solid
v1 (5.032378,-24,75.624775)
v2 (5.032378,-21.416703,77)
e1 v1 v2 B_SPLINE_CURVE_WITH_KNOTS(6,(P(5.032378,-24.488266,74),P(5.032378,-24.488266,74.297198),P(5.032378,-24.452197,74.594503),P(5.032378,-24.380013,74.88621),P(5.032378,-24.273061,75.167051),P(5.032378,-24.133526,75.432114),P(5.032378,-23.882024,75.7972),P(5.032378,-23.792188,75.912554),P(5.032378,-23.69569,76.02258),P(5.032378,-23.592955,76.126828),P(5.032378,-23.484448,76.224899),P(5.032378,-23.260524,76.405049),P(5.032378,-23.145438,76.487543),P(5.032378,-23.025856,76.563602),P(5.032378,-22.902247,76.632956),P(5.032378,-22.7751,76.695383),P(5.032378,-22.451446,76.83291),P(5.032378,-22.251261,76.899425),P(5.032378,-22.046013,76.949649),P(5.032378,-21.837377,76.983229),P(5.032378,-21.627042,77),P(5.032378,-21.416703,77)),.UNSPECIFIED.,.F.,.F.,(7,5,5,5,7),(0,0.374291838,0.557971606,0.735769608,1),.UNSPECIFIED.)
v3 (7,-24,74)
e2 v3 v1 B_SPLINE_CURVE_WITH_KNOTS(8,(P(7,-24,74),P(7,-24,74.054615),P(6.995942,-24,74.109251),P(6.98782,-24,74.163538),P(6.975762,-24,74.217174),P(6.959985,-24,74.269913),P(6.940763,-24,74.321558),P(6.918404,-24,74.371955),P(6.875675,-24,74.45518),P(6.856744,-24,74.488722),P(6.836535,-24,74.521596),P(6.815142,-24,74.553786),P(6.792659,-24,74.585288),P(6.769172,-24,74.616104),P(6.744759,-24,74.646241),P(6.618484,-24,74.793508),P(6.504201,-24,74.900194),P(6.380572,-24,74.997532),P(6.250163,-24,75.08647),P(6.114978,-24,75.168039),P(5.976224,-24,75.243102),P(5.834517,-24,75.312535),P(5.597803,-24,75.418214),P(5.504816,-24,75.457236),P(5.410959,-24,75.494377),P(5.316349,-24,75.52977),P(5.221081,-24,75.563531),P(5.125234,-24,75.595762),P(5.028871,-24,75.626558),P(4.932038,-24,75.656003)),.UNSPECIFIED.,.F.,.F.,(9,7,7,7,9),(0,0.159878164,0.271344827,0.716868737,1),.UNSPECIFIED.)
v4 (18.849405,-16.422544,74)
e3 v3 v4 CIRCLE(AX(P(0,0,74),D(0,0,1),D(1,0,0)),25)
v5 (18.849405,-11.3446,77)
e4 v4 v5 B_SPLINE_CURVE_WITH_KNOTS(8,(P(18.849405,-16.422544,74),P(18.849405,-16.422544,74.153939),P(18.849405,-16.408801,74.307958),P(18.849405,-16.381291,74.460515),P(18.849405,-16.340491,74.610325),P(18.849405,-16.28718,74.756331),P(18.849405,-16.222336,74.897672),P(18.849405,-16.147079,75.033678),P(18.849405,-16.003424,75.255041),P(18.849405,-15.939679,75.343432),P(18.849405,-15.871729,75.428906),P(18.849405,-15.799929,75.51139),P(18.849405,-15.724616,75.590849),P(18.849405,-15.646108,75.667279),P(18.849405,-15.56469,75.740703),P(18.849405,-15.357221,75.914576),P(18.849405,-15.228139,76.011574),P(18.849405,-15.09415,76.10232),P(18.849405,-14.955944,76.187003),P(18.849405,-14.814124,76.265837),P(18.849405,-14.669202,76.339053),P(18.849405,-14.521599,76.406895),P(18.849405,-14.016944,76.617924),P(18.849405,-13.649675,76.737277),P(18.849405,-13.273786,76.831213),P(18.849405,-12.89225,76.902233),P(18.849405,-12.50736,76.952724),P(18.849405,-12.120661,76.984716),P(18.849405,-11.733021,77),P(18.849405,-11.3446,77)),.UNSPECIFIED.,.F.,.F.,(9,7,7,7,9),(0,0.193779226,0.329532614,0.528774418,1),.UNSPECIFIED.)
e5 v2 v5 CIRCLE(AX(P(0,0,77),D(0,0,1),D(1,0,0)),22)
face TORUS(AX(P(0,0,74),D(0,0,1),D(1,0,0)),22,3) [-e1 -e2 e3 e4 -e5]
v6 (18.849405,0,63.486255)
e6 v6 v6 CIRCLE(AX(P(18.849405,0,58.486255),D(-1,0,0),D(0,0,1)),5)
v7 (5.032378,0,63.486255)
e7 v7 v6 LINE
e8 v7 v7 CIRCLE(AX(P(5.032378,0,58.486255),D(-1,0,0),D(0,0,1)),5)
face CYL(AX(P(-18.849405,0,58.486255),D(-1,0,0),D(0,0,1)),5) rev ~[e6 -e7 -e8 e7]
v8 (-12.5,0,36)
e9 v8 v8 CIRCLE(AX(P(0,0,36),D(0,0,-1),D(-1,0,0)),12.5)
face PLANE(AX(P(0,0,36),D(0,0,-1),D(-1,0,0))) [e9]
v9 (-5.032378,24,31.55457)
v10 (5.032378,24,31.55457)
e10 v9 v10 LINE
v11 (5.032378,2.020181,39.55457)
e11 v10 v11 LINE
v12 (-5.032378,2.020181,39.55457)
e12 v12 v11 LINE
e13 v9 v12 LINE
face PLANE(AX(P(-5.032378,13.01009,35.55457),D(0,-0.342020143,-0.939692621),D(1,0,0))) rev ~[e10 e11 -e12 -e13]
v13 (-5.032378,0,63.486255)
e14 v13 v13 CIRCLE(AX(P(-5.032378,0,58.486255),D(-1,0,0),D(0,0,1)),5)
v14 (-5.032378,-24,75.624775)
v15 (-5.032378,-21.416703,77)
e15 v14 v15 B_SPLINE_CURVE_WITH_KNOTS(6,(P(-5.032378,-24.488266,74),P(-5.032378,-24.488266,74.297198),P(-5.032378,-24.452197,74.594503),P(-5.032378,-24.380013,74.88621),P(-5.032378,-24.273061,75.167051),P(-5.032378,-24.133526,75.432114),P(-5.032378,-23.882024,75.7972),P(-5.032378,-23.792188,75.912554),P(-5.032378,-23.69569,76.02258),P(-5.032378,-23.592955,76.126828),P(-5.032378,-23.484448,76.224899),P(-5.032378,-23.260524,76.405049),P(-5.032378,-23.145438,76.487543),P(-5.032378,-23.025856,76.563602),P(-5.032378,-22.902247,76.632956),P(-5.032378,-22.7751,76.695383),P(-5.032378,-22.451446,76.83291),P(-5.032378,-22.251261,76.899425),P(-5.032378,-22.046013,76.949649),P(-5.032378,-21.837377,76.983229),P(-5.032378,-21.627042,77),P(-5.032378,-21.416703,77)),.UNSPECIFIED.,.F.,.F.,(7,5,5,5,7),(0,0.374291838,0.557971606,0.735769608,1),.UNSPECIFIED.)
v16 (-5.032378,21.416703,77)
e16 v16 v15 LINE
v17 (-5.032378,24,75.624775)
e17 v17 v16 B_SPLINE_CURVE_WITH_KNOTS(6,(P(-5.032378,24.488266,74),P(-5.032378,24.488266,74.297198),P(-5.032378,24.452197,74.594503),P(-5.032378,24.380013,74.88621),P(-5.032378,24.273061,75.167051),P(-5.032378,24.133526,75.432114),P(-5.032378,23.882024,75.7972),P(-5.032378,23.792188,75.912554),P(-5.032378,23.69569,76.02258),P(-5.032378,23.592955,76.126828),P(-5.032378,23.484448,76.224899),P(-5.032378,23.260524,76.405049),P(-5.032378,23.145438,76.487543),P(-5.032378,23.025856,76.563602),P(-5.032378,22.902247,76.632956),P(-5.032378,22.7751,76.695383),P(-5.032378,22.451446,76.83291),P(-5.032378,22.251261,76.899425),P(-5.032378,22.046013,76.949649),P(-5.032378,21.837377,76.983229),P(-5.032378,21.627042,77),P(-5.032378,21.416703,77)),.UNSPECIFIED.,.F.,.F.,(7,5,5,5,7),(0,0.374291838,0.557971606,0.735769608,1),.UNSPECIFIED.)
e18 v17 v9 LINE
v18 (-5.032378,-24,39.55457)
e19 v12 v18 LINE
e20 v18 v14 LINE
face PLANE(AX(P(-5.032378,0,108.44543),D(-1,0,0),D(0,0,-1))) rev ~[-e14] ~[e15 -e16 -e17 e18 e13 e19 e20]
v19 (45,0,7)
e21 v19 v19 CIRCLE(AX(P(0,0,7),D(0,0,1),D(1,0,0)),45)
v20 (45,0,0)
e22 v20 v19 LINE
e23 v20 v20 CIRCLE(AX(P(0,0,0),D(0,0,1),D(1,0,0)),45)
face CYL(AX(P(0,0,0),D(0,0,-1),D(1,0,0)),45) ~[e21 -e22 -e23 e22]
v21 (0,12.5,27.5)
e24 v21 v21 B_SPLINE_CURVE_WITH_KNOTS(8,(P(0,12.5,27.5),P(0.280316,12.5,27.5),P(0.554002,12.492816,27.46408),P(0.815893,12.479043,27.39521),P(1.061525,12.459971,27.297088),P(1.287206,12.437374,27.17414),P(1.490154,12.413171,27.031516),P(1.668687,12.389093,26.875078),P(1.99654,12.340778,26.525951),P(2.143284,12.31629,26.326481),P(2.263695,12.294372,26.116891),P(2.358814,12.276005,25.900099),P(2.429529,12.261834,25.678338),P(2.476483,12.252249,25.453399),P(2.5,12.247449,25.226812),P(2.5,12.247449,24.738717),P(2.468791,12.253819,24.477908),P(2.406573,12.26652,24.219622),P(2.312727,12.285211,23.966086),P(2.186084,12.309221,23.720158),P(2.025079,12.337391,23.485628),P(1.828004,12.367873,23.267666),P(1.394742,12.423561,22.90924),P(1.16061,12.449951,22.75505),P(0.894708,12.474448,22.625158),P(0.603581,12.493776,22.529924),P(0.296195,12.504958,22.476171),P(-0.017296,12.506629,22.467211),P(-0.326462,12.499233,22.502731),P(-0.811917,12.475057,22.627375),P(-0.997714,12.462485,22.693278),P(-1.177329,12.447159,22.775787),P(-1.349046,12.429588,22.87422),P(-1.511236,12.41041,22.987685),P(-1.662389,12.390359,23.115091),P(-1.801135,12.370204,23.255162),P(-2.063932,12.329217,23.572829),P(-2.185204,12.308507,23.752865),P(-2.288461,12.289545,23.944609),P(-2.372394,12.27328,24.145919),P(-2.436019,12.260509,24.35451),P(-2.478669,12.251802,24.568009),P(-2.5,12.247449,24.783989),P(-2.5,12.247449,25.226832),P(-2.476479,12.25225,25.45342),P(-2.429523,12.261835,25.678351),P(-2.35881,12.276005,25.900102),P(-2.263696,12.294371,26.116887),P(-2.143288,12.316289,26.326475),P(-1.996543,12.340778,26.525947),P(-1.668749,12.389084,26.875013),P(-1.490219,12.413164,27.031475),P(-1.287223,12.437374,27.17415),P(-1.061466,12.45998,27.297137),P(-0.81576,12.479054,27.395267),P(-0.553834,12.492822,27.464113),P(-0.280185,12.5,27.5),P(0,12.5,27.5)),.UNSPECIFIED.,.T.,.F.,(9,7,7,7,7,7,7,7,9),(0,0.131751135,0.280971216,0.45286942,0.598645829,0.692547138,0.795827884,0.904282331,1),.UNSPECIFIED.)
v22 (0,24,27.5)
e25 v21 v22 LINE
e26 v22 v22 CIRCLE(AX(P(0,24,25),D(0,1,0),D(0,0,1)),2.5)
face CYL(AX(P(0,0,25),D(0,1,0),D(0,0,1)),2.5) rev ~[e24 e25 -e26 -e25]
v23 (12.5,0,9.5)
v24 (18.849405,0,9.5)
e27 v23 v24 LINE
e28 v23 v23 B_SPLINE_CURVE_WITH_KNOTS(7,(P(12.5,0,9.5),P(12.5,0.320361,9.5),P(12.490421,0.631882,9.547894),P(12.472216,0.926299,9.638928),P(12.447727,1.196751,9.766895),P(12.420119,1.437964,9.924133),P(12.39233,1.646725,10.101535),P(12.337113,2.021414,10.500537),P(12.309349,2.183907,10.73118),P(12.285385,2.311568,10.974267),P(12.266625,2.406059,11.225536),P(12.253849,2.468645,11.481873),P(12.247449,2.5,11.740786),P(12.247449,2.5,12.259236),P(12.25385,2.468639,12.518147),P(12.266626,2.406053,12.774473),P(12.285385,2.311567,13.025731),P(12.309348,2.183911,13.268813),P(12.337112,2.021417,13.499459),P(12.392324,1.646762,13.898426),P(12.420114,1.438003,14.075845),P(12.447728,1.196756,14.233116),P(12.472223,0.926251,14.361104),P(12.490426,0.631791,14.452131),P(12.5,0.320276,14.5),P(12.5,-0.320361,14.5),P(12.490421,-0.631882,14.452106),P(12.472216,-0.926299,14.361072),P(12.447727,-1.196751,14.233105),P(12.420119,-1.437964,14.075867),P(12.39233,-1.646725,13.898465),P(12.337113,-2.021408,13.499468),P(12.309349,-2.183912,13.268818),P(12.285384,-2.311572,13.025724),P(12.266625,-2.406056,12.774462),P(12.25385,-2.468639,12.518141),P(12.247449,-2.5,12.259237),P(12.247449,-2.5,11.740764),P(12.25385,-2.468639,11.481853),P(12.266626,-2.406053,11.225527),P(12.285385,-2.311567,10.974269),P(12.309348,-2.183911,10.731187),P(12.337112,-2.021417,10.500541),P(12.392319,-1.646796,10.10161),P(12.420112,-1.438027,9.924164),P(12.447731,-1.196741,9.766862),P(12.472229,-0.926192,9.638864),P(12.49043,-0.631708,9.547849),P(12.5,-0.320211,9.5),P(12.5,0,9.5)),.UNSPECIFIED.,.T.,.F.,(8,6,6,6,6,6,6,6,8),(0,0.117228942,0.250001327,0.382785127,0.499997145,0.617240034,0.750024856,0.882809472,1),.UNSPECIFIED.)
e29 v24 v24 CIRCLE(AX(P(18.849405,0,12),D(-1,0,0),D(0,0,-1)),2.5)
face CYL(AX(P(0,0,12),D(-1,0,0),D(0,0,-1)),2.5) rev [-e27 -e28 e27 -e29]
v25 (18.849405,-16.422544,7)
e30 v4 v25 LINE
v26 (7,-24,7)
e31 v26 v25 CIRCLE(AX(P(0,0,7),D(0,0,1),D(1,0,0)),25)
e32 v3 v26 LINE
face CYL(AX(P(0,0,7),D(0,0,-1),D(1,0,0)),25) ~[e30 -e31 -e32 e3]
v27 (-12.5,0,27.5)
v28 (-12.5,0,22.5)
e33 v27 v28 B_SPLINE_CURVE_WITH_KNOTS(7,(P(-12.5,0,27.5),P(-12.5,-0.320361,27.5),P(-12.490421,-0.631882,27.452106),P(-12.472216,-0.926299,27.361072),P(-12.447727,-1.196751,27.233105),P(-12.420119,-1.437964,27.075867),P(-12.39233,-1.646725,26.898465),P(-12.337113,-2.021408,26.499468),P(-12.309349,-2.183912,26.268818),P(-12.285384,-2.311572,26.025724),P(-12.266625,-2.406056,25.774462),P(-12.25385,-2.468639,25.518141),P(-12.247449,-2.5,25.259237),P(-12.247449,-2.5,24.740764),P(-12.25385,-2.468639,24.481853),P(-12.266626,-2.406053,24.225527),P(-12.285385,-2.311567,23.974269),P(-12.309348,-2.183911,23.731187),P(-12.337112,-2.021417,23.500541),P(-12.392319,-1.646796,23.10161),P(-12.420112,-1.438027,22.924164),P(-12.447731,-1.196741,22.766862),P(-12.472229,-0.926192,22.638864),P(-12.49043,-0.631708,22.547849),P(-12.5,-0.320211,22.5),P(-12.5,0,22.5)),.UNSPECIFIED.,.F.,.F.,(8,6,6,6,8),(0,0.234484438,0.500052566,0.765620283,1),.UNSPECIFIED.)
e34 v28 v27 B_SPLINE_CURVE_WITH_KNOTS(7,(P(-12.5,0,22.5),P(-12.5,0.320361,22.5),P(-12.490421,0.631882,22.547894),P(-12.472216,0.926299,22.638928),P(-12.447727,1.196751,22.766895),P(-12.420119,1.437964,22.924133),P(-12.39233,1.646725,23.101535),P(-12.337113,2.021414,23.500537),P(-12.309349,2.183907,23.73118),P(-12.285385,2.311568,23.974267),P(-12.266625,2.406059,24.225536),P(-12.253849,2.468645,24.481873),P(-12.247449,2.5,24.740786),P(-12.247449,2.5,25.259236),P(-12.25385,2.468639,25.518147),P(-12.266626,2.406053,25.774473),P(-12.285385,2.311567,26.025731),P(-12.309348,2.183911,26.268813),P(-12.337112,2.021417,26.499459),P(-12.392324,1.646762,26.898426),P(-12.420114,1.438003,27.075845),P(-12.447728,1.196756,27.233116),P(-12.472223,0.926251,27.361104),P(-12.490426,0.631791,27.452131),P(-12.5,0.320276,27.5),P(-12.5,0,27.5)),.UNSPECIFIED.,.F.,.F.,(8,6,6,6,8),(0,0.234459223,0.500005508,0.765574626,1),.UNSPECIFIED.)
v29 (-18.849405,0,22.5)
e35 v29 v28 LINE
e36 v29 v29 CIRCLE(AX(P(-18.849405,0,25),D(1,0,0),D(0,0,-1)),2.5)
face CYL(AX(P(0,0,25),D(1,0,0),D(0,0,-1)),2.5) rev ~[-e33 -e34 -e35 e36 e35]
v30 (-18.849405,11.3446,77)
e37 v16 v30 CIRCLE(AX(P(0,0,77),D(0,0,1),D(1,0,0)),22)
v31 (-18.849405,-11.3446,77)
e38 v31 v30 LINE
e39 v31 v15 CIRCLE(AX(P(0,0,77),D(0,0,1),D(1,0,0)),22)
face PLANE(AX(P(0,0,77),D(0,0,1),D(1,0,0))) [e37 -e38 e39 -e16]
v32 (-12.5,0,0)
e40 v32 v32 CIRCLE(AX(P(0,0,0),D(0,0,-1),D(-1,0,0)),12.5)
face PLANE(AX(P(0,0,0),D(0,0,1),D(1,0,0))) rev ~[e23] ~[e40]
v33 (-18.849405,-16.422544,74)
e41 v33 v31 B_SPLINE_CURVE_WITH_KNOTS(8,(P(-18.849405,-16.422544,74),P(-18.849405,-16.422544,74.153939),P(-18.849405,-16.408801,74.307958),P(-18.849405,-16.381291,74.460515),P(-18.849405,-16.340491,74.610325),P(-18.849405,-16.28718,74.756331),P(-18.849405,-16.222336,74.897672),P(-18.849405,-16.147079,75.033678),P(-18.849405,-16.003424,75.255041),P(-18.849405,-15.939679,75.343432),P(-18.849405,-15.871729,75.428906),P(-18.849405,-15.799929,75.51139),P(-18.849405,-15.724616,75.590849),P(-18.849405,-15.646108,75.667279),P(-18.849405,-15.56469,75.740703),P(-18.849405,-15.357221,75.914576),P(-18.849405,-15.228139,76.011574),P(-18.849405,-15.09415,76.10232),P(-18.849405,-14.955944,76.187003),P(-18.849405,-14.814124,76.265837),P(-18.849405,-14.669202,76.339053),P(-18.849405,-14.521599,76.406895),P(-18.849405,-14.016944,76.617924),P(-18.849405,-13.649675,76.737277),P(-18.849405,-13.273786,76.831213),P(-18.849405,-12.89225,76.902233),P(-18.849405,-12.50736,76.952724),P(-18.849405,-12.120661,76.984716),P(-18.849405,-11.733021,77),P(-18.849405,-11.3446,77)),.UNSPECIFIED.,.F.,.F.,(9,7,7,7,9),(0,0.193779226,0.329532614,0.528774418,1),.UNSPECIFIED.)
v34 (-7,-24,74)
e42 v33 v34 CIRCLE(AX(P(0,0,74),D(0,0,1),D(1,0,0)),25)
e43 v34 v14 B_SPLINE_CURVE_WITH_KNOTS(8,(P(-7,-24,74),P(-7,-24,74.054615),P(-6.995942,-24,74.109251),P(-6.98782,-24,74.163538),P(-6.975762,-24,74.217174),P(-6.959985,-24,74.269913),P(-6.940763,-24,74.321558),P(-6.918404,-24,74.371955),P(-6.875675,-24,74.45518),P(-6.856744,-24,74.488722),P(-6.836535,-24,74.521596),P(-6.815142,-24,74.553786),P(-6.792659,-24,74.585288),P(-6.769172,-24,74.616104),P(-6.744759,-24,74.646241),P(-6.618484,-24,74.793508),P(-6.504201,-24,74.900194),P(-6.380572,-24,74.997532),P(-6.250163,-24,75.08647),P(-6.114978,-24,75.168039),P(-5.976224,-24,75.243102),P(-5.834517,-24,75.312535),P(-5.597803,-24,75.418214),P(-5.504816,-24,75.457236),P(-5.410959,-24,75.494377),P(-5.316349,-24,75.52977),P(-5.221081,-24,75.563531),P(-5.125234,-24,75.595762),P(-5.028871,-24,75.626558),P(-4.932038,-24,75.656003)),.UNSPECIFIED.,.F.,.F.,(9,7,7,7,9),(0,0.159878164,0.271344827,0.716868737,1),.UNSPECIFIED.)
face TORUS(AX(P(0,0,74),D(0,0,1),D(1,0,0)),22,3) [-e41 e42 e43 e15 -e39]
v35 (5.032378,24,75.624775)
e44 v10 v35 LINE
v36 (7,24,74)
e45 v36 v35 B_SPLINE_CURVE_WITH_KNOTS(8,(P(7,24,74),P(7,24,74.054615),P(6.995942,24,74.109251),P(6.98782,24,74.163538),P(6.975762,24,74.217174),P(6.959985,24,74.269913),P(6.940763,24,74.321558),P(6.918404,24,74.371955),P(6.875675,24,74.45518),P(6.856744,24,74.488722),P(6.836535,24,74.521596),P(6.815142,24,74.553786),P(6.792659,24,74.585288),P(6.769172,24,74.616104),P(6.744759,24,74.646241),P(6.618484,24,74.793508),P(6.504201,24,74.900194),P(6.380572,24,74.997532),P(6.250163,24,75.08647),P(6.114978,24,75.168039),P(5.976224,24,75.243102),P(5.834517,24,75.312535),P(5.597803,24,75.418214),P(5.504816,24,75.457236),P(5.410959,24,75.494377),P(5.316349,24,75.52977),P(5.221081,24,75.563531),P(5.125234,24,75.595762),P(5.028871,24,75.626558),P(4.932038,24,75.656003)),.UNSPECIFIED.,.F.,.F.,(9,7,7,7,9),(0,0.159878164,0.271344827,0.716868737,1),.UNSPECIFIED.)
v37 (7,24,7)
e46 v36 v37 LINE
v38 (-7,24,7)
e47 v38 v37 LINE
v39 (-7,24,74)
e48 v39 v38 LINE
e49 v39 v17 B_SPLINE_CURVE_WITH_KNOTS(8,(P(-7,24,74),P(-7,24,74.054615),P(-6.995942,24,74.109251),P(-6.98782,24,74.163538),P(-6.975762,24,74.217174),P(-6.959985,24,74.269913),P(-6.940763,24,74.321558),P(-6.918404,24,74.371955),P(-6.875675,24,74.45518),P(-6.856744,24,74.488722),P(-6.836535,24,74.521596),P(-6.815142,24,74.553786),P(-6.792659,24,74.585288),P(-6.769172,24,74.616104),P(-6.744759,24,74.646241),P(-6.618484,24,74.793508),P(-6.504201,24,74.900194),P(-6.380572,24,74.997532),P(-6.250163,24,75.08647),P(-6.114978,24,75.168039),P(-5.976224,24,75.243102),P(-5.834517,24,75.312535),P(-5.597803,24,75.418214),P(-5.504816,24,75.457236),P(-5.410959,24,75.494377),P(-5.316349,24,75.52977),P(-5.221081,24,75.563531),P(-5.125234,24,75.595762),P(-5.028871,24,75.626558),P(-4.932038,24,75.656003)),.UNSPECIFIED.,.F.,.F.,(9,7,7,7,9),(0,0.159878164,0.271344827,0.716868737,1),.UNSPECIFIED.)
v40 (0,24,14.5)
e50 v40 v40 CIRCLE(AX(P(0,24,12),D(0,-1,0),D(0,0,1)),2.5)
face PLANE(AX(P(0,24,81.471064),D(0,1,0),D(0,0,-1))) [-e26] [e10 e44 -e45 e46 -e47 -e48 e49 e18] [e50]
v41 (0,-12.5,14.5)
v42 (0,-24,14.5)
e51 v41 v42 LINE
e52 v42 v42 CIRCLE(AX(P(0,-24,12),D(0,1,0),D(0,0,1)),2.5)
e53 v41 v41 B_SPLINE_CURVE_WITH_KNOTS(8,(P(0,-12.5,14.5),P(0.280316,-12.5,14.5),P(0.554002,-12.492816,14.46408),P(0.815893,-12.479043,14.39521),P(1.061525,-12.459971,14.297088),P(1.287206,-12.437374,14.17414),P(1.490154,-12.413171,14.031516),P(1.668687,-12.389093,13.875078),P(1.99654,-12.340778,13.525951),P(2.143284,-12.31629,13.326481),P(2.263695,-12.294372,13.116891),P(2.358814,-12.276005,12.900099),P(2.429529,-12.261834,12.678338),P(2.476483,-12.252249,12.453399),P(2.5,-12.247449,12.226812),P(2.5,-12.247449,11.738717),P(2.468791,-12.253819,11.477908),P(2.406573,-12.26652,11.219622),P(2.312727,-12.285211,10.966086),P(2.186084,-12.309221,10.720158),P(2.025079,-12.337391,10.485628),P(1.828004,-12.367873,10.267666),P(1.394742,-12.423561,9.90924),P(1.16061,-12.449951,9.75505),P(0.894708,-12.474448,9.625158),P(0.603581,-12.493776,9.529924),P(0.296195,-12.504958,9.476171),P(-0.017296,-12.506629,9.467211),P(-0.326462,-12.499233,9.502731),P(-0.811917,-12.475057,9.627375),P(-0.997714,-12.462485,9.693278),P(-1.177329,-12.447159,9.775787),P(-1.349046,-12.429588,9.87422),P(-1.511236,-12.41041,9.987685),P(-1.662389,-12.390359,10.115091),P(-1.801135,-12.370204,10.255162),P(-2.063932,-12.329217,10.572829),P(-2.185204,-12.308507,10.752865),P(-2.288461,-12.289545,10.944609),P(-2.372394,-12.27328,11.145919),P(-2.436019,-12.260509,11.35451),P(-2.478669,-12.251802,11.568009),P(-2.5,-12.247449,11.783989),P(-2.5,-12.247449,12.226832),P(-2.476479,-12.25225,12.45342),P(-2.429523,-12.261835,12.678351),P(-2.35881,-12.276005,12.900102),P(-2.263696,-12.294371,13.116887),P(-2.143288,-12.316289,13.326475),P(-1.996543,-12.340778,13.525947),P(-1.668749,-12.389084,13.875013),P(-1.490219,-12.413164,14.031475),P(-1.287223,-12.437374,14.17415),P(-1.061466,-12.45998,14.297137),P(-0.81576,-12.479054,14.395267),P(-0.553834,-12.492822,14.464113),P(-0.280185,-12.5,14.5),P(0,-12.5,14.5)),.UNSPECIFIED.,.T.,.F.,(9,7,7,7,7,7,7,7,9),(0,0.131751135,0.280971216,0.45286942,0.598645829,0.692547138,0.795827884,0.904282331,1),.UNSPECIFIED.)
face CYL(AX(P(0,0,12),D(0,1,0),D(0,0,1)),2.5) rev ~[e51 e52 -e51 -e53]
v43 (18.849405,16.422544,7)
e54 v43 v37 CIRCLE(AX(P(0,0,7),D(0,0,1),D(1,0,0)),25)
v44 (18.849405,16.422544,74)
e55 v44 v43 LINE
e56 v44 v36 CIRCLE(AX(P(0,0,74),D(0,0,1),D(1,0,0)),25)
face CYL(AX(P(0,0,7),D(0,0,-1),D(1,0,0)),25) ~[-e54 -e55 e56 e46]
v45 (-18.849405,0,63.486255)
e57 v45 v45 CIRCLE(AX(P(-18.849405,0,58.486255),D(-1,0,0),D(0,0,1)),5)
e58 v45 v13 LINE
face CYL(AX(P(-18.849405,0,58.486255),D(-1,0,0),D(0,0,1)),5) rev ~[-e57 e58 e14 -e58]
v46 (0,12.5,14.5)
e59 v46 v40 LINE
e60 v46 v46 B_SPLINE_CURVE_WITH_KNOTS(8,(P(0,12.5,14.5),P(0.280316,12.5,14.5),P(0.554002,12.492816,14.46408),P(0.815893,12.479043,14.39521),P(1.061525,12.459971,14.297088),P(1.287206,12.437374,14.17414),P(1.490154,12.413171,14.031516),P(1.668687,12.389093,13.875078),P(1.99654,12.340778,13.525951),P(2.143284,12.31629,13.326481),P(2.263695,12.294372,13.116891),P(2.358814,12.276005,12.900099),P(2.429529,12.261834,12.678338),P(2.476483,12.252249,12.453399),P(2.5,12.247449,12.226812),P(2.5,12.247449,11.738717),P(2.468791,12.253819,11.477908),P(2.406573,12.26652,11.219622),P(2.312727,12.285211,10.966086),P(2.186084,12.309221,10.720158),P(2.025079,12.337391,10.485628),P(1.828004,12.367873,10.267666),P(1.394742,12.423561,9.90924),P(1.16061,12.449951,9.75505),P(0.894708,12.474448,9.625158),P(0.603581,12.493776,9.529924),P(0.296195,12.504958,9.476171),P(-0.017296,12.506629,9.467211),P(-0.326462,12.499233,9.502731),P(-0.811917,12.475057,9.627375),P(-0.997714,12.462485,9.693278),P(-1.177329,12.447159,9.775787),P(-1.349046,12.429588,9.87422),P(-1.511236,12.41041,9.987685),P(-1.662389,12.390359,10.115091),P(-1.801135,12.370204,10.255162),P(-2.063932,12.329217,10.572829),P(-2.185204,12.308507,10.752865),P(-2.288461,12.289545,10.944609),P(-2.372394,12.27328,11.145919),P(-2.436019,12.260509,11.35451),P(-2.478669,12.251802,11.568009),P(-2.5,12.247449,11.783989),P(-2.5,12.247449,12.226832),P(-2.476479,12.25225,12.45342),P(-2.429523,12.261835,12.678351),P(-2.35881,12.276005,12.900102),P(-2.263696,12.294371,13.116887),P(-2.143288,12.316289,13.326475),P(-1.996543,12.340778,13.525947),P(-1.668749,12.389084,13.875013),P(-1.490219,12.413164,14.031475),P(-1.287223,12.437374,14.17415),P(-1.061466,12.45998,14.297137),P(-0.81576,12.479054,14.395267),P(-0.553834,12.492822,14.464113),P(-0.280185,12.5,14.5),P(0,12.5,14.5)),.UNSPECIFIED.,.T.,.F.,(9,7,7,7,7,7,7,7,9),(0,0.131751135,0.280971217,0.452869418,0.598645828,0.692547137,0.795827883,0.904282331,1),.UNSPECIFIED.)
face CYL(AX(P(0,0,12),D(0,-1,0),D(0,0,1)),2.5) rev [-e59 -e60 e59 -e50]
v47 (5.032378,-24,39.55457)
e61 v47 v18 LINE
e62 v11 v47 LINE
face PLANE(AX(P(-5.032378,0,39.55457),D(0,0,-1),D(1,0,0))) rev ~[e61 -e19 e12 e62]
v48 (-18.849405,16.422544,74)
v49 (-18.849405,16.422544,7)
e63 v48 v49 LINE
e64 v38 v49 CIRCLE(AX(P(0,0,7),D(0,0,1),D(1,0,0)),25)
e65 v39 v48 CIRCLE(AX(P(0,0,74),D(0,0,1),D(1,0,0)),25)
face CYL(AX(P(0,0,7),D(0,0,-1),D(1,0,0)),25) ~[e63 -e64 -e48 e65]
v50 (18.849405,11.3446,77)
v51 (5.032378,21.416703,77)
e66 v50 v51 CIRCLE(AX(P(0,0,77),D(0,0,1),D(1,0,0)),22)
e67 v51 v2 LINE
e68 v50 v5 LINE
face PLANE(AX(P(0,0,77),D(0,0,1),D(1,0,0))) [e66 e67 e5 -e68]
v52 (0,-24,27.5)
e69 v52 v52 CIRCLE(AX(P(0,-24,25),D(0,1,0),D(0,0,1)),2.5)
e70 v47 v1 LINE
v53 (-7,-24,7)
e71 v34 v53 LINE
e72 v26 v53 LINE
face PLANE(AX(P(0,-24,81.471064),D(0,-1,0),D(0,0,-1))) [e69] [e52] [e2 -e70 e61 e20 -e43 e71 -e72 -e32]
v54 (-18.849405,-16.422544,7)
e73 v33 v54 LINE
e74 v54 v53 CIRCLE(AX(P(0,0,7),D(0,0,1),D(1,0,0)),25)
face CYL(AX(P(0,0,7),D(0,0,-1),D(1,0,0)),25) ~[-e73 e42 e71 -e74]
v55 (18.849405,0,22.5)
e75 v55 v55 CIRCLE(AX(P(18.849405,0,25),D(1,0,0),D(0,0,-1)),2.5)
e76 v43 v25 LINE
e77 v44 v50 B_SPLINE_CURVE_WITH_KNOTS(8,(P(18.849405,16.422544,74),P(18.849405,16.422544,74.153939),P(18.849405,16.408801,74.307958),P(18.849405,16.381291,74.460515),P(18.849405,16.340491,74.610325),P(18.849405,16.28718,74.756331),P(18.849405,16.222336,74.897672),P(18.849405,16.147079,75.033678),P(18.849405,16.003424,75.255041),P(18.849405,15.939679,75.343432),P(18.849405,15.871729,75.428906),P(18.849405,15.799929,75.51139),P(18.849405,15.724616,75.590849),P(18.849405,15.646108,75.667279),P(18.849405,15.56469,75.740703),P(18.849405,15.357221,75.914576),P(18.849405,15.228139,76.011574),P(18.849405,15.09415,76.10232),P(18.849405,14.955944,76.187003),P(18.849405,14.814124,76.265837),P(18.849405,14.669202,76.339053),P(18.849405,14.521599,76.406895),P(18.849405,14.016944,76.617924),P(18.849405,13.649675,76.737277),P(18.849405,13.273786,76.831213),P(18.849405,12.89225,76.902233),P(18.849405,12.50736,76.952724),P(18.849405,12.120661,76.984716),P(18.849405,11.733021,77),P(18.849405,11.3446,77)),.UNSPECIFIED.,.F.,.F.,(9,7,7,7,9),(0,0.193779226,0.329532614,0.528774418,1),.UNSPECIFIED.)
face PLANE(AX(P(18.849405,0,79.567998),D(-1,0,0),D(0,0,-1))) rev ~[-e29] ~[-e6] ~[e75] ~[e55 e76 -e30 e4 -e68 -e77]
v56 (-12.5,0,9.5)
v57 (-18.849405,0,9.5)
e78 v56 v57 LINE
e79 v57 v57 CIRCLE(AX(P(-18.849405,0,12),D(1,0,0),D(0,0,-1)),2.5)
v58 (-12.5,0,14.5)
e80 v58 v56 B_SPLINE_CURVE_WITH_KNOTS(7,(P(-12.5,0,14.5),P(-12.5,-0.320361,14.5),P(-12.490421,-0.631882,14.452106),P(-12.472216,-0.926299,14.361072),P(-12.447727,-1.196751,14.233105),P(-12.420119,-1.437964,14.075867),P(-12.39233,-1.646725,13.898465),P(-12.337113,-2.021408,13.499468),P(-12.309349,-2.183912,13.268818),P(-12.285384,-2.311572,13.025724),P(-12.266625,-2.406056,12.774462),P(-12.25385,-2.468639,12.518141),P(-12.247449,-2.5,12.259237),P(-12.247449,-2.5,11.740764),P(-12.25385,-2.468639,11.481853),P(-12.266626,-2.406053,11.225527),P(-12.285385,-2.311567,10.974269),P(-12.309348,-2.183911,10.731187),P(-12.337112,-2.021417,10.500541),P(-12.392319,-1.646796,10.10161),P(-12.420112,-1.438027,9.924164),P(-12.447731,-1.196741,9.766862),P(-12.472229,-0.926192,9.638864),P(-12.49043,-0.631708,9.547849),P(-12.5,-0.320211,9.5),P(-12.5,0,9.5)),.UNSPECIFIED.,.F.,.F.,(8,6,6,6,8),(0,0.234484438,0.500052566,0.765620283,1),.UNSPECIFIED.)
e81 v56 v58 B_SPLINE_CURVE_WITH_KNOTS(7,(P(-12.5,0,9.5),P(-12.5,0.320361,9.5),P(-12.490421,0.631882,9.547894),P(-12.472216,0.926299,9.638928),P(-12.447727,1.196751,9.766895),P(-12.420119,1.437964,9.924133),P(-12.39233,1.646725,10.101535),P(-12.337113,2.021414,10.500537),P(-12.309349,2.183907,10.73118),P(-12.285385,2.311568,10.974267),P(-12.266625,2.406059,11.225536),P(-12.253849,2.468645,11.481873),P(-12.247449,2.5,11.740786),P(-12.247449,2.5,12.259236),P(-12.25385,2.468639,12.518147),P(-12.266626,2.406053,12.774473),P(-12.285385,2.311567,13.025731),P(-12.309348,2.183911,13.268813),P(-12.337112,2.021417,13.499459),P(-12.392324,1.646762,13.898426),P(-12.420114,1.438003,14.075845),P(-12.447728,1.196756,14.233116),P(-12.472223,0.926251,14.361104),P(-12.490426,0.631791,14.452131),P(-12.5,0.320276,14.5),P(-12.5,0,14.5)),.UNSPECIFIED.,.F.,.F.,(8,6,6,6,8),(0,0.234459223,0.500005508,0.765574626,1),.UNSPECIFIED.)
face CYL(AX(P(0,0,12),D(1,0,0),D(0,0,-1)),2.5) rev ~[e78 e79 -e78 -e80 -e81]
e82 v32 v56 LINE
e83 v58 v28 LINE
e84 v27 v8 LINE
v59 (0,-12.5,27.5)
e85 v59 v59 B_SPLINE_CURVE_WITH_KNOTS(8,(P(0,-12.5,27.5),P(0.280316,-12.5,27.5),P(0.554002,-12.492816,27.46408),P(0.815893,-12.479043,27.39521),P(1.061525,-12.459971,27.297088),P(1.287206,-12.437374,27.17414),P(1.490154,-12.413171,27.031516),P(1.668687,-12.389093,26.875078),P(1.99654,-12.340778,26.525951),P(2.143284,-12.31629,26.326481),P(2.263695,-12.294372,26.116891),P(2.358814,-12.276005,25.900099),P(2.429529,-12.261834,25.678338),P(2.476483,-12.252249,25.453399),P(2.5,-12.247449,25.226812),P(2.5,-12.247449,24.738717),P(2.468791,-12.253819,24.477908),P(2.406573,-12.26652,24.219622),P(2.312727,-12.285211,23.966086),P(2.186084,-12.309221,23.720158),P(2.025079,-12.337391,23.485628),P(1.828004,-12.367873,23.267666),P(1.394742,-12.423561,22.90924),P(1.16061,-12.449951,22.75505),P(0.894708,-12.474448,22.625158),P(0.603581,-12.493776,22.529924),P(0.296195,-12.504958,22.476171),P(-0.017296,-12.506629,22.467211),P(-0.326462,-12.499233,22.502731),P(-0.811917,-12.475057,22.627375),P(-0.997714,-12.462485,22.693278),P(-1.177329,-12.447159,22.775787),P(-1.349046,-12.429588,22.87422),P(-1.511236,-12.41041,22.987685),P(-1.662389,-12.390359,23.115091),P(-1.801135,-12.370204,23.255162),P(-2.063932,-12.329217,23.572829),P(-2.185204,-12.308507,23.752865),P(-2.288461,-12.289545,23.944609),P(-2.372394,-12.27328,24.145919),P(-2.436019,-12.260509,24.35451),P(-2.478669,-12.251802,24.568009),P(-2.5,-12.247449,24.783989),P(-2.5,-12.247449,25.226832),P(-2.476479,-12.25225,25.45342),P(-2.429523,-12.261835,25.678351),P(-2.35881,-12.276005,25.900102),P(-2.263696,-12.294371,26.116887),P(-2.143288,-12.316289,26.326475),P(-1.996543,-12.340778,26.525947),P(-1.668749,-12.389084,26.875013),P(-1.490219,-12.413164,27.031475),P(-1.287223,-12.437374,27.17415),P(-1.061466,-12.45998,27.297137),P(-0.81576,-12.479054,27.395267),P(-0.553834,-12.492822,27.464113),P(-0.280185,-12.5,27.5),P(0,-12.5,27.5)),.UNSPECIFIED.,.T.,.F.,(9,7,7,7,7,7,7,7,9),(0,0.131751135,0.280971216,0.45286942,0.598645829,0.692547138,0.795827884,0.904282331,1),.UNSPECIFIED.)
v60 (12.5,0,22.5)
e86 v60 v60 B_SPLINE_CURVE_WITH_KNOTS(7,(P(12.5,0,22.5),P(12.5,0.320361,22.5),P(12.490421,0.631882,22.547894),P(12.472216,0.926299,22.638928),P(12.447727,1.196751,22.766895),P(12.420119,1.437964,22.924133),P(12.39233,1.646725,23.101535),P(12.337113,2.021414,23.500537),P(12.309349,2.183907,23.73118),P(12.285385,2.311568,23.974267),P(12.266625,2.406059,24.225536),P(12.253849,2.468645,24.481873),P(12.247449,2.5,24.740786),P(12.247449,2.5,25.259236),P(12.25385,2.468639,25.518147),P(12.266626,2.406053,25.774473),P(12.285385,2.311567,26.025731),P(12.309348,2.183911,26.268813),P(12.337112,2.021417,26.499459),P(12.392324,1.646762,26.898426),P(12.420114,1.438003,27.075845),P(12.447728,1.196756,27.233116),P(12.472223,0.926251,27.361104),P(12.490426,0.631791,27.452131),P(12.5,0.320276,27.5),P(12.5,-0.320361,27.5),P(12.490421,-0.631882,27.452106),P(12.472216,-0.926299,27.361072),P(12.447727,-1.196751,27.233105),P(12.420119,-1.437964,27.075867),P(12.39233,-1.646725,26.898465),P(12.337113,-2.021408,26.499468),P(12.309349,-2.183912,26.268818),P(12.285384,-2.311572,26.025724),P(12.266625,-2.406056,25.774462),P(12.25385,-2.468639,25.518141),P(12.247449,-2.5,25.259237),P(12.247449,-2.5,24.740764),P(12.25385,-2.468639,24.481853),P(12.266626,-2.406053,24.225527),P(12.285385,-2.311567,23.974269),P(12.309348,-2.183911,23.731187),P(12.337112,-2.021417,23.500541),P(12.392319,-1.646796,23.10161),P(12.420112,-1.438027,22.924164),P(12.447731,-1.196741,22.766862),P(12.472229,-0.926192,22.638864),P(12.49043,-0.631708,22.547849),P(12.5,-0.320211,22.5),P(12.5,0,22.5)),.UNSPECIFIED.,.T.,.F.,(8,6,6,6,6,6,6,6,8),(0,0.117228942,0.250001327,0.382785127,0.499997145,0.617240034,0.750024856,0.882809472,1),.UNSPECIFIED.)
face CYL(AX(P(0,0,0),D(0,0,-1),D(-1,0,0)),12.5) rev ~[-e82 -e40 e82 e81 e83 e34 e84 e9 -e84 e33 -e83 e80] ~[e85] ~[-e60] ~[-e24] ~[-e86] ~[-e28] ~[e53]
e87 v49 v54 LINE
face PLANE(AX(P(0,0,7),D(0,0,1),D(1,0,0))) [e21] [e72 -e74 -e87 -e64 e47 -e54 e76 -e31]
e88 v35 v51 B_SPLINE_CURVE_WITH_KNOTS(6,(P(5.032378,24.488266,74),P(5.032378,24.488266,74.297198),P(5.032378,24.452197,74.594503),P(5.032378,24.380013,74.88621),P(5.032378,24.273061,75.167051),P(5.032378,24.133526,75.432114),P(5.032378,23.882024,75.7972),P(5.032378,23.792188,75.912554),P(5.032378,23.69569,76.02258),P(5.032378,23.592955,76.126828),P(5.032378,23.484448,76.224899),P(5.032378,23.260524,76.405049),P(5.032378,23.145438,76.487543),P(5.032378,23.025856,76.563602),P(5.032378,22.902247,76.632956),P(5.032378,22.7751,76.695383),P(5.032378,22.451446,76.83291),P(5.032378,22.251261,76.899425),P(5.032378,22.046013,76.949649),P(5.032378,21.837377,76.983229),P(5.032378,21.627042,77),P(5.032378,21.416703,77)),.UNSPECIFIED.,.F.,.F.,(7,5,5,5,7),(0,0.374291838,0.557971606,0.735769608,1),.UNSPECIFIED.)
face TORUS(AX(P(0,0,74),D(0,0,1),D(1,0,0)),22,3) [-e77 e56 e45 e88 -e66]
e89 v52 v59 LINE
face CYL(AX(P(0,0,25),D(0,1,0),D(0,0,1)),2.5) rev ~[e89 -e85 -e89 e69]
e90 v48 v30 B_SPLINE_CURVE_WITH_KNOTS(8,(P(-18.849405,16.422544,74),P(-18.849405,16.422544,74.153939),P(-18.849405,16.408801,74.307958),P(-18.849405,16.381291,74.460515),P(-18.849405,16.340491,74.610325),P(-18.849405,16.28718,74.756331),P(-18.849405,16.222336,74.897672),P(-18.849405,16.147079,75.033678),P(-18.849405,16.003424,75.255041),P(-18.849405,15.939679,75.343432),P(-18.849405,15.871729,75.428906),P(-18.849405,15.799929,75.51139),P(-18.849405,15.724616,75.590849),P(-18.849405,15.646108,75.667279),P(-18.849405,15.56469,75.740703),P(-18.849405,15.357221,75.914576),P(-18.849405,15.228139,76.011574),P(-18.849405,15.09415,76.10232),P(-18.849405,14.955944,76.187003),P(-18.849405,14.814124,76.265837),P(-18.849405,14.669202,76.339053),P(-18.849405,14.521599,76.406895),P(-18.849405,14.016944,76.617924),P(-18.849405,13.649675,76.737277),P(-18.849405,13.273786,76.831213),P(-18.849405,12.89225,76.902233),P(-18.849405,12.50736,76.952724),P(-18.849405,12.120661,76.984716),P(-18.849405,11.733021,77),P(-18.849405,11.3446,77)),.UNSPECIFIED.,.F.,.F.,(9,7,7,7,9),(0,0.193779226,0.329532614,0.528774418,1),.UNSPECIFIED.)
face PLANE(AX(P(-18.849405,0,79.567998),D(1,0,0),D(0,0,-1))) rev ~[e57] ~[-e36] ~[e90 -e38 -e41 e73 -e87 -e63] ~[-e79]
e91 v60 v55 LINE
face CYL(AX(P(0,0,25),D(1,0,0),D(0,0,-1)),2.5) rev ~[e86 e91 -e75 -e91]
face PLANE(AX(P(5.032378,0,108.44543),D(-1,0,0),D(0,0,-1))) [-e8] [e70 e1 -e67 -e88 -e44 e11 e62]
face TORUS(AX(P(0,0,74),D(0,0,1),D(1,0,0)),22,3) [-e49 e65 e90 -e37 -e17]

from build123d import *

# Parameters (mm, degrees)
SKETCH_1_R          = 45
EXTRUDE_1_DEPTH     = 7
SKETCH_2_R          = 25
EXTRUDE_2_DEPTH     = 70
FILLET_1_R          = 3
SKETCH_3_R          = 2.5
CUT_EXTRUDE_3_DEPTH = 35
SKETCH_5_R          = 2.5
CUT_EXTRUDE_4_DEPTH = 35
SKETCH_6_R          = 12.5
CUT_EXTRUDE_5_DEPTH = 36
SKETCH_7_W          = 10.064755008
SKETCH_7_H          = 68.890859038
SKETCH_7_W_2        = 9.000001362
SKETCH_7_H_2        = 72.567998157
CUT_EXTRUDE_6_DEPTH = 35
SKETCH_9_W          = 74.471064375
SKETCH_9_H          = 8.374114708
CUT_EXTRUDE_8_DEPTH = 35
SKETCH_10_R         = 5
CUT_EXTRUDE_1_DEPTH = 110.684759554
CHAMFER_1_SIZE      = 8
CHAMFER_1_SIZE2     = 21.979819356


with BuildPart() as part:
    # Эскиз1 → Вытянуть1 (new body)
    with BuildSketch(Plane.XY):
        Circle(SKETCH_1_R)
    extrude(amount=EXTRUDE_1_DEPTH)

    # Эскиз2 → Вытянуть2 (add)
    with BuildSketch(Plane.XY.offset(7)):
        Circle(SKETCH_2_R)
    extrude(amount=EXTRUDE_2_DEPTH)

    # Скругление1
    fillet_1_edges = [part.edges().sort_by_distance(p)[0] for p in [
        (-25, 0, 77),
    ]]
    fillet(fillet_1_edges, radius=FILLET_1_R)

    # Эскиз3 → Вытянуть3 (cut, symmetric)
    with BuildSketch(Plane(origin=(0, 0, 0), x_dir=(1, 0, 0), z_dir=(0, 1, 0))):
        with Locations(Location((0, -12, 0), (0, 0, 270))):
            Circle(SKETCH_3_R)
        with Locations(Location((0, -25, 0), (0, 0, 270))):
            Circle(SKETCH_3_R)
    extrude(amount=CUT_EXTRUDE_3_DEPTH, both=True, mode=Mode.SUBTRACT)

    # Эскиз5 → Вытянуть4 (cut, symmetric)
    with BuildSketch(Plane(origin=(0, 0, 0), x_dir=(0, 0, -1), z_dir=(1, 0, 0))):
        with Locations((-12, 0)):
            Circle(SKETCH_5_R)
        with Locations((-25, 0)):
            Circle(SKETCH_5_R)
    extrude(amount=CUT_EXTRUDE_4_DEPTH, both=True, mode=Mode.SUBTRACT)

    # Эскиз6 → Вытянуть5 (cut)
    with BuildSketch(Plane(origin=(0, 0, 0), x_dir=(-1, 0, 0), z_dir=(0, 0, -1))):
        Circle(SKETCH_6_R)
    extrude(amount=-CUT_EXTRUDE_5_DEPTH, mode=Mode.SUBTRACT)

    # Эскиз7 → Вытянуть6 (cut, symmetric)
    with BuildSketch(Plane(origin=(0, 0, 0), x_dir=(1, 0, 0), z_dir=(0, 1, 0))):
        with Locations((0, -74)):
            Rectangle(SKETCH_7_W, SKETCH_7_H)
        with Locations((23.349405244, -43.283999079)):
            Rectangle(SKETCH_7_W_2, SKETCH_7_H_2)
        with Locations((-23.349405244, -43.283999079)):
            Rectangle(SKETCH_7_W_2, SKETCH_7_H_2)
    extrude(amount=CUT_EXTRUDE_6_DEPTH, both=True, mode=Mode.SUBTRACT)

    # Эскиз9 → Вытянуть8 (cut, symmetric)
    with BuildSketch(Plane(origin=(0, 0, 0), x_dir=(0, 0, -1), z_dir=(1, 0, 0))):
        with Locations((-44.235532188, 28.187057354)):
            Rectangle(SKETCH_9_W, SKETCH_9_H)
        with Locations((-44.235532188, -28.187057354)):
            Rectangle(SKETCH_9_W, SKETCH_9_H)
    extrude(amount=CUT_EXTRUDE_8_DEPTH, both=True, mode=Mode.SUBTRACT)

    # Эскиз10 → Вырез-Вытянуть1 (cut, through all)
    with BuildSketch(Plane.ZY.offset(18.849404563)):
        with Locations((58.486255415, 0)):
            Circle(SKETCH_10_R)
    extrude(amount=-CUT_EXTRUDE_1_DEPTH, mode=Mode.SUBTRACT)

    # Фаска1
    chamfer_1_edges = [part.edges().sort_by_distance(p)[0] for p in [
        (0, 24, 39.554570481),
    ]]
    chamfer_1_side = [part.faces().sort_by_distance(p)[0] for p in [
        (0, 24, 32.18588004),
    ]]
    chamfer(chamfer_1_edges, length=CHAMFER_1_SIZE, length2=CHAMFER_1_SIZE2, reference=chamfer_1_side[0])


solid = part.part
